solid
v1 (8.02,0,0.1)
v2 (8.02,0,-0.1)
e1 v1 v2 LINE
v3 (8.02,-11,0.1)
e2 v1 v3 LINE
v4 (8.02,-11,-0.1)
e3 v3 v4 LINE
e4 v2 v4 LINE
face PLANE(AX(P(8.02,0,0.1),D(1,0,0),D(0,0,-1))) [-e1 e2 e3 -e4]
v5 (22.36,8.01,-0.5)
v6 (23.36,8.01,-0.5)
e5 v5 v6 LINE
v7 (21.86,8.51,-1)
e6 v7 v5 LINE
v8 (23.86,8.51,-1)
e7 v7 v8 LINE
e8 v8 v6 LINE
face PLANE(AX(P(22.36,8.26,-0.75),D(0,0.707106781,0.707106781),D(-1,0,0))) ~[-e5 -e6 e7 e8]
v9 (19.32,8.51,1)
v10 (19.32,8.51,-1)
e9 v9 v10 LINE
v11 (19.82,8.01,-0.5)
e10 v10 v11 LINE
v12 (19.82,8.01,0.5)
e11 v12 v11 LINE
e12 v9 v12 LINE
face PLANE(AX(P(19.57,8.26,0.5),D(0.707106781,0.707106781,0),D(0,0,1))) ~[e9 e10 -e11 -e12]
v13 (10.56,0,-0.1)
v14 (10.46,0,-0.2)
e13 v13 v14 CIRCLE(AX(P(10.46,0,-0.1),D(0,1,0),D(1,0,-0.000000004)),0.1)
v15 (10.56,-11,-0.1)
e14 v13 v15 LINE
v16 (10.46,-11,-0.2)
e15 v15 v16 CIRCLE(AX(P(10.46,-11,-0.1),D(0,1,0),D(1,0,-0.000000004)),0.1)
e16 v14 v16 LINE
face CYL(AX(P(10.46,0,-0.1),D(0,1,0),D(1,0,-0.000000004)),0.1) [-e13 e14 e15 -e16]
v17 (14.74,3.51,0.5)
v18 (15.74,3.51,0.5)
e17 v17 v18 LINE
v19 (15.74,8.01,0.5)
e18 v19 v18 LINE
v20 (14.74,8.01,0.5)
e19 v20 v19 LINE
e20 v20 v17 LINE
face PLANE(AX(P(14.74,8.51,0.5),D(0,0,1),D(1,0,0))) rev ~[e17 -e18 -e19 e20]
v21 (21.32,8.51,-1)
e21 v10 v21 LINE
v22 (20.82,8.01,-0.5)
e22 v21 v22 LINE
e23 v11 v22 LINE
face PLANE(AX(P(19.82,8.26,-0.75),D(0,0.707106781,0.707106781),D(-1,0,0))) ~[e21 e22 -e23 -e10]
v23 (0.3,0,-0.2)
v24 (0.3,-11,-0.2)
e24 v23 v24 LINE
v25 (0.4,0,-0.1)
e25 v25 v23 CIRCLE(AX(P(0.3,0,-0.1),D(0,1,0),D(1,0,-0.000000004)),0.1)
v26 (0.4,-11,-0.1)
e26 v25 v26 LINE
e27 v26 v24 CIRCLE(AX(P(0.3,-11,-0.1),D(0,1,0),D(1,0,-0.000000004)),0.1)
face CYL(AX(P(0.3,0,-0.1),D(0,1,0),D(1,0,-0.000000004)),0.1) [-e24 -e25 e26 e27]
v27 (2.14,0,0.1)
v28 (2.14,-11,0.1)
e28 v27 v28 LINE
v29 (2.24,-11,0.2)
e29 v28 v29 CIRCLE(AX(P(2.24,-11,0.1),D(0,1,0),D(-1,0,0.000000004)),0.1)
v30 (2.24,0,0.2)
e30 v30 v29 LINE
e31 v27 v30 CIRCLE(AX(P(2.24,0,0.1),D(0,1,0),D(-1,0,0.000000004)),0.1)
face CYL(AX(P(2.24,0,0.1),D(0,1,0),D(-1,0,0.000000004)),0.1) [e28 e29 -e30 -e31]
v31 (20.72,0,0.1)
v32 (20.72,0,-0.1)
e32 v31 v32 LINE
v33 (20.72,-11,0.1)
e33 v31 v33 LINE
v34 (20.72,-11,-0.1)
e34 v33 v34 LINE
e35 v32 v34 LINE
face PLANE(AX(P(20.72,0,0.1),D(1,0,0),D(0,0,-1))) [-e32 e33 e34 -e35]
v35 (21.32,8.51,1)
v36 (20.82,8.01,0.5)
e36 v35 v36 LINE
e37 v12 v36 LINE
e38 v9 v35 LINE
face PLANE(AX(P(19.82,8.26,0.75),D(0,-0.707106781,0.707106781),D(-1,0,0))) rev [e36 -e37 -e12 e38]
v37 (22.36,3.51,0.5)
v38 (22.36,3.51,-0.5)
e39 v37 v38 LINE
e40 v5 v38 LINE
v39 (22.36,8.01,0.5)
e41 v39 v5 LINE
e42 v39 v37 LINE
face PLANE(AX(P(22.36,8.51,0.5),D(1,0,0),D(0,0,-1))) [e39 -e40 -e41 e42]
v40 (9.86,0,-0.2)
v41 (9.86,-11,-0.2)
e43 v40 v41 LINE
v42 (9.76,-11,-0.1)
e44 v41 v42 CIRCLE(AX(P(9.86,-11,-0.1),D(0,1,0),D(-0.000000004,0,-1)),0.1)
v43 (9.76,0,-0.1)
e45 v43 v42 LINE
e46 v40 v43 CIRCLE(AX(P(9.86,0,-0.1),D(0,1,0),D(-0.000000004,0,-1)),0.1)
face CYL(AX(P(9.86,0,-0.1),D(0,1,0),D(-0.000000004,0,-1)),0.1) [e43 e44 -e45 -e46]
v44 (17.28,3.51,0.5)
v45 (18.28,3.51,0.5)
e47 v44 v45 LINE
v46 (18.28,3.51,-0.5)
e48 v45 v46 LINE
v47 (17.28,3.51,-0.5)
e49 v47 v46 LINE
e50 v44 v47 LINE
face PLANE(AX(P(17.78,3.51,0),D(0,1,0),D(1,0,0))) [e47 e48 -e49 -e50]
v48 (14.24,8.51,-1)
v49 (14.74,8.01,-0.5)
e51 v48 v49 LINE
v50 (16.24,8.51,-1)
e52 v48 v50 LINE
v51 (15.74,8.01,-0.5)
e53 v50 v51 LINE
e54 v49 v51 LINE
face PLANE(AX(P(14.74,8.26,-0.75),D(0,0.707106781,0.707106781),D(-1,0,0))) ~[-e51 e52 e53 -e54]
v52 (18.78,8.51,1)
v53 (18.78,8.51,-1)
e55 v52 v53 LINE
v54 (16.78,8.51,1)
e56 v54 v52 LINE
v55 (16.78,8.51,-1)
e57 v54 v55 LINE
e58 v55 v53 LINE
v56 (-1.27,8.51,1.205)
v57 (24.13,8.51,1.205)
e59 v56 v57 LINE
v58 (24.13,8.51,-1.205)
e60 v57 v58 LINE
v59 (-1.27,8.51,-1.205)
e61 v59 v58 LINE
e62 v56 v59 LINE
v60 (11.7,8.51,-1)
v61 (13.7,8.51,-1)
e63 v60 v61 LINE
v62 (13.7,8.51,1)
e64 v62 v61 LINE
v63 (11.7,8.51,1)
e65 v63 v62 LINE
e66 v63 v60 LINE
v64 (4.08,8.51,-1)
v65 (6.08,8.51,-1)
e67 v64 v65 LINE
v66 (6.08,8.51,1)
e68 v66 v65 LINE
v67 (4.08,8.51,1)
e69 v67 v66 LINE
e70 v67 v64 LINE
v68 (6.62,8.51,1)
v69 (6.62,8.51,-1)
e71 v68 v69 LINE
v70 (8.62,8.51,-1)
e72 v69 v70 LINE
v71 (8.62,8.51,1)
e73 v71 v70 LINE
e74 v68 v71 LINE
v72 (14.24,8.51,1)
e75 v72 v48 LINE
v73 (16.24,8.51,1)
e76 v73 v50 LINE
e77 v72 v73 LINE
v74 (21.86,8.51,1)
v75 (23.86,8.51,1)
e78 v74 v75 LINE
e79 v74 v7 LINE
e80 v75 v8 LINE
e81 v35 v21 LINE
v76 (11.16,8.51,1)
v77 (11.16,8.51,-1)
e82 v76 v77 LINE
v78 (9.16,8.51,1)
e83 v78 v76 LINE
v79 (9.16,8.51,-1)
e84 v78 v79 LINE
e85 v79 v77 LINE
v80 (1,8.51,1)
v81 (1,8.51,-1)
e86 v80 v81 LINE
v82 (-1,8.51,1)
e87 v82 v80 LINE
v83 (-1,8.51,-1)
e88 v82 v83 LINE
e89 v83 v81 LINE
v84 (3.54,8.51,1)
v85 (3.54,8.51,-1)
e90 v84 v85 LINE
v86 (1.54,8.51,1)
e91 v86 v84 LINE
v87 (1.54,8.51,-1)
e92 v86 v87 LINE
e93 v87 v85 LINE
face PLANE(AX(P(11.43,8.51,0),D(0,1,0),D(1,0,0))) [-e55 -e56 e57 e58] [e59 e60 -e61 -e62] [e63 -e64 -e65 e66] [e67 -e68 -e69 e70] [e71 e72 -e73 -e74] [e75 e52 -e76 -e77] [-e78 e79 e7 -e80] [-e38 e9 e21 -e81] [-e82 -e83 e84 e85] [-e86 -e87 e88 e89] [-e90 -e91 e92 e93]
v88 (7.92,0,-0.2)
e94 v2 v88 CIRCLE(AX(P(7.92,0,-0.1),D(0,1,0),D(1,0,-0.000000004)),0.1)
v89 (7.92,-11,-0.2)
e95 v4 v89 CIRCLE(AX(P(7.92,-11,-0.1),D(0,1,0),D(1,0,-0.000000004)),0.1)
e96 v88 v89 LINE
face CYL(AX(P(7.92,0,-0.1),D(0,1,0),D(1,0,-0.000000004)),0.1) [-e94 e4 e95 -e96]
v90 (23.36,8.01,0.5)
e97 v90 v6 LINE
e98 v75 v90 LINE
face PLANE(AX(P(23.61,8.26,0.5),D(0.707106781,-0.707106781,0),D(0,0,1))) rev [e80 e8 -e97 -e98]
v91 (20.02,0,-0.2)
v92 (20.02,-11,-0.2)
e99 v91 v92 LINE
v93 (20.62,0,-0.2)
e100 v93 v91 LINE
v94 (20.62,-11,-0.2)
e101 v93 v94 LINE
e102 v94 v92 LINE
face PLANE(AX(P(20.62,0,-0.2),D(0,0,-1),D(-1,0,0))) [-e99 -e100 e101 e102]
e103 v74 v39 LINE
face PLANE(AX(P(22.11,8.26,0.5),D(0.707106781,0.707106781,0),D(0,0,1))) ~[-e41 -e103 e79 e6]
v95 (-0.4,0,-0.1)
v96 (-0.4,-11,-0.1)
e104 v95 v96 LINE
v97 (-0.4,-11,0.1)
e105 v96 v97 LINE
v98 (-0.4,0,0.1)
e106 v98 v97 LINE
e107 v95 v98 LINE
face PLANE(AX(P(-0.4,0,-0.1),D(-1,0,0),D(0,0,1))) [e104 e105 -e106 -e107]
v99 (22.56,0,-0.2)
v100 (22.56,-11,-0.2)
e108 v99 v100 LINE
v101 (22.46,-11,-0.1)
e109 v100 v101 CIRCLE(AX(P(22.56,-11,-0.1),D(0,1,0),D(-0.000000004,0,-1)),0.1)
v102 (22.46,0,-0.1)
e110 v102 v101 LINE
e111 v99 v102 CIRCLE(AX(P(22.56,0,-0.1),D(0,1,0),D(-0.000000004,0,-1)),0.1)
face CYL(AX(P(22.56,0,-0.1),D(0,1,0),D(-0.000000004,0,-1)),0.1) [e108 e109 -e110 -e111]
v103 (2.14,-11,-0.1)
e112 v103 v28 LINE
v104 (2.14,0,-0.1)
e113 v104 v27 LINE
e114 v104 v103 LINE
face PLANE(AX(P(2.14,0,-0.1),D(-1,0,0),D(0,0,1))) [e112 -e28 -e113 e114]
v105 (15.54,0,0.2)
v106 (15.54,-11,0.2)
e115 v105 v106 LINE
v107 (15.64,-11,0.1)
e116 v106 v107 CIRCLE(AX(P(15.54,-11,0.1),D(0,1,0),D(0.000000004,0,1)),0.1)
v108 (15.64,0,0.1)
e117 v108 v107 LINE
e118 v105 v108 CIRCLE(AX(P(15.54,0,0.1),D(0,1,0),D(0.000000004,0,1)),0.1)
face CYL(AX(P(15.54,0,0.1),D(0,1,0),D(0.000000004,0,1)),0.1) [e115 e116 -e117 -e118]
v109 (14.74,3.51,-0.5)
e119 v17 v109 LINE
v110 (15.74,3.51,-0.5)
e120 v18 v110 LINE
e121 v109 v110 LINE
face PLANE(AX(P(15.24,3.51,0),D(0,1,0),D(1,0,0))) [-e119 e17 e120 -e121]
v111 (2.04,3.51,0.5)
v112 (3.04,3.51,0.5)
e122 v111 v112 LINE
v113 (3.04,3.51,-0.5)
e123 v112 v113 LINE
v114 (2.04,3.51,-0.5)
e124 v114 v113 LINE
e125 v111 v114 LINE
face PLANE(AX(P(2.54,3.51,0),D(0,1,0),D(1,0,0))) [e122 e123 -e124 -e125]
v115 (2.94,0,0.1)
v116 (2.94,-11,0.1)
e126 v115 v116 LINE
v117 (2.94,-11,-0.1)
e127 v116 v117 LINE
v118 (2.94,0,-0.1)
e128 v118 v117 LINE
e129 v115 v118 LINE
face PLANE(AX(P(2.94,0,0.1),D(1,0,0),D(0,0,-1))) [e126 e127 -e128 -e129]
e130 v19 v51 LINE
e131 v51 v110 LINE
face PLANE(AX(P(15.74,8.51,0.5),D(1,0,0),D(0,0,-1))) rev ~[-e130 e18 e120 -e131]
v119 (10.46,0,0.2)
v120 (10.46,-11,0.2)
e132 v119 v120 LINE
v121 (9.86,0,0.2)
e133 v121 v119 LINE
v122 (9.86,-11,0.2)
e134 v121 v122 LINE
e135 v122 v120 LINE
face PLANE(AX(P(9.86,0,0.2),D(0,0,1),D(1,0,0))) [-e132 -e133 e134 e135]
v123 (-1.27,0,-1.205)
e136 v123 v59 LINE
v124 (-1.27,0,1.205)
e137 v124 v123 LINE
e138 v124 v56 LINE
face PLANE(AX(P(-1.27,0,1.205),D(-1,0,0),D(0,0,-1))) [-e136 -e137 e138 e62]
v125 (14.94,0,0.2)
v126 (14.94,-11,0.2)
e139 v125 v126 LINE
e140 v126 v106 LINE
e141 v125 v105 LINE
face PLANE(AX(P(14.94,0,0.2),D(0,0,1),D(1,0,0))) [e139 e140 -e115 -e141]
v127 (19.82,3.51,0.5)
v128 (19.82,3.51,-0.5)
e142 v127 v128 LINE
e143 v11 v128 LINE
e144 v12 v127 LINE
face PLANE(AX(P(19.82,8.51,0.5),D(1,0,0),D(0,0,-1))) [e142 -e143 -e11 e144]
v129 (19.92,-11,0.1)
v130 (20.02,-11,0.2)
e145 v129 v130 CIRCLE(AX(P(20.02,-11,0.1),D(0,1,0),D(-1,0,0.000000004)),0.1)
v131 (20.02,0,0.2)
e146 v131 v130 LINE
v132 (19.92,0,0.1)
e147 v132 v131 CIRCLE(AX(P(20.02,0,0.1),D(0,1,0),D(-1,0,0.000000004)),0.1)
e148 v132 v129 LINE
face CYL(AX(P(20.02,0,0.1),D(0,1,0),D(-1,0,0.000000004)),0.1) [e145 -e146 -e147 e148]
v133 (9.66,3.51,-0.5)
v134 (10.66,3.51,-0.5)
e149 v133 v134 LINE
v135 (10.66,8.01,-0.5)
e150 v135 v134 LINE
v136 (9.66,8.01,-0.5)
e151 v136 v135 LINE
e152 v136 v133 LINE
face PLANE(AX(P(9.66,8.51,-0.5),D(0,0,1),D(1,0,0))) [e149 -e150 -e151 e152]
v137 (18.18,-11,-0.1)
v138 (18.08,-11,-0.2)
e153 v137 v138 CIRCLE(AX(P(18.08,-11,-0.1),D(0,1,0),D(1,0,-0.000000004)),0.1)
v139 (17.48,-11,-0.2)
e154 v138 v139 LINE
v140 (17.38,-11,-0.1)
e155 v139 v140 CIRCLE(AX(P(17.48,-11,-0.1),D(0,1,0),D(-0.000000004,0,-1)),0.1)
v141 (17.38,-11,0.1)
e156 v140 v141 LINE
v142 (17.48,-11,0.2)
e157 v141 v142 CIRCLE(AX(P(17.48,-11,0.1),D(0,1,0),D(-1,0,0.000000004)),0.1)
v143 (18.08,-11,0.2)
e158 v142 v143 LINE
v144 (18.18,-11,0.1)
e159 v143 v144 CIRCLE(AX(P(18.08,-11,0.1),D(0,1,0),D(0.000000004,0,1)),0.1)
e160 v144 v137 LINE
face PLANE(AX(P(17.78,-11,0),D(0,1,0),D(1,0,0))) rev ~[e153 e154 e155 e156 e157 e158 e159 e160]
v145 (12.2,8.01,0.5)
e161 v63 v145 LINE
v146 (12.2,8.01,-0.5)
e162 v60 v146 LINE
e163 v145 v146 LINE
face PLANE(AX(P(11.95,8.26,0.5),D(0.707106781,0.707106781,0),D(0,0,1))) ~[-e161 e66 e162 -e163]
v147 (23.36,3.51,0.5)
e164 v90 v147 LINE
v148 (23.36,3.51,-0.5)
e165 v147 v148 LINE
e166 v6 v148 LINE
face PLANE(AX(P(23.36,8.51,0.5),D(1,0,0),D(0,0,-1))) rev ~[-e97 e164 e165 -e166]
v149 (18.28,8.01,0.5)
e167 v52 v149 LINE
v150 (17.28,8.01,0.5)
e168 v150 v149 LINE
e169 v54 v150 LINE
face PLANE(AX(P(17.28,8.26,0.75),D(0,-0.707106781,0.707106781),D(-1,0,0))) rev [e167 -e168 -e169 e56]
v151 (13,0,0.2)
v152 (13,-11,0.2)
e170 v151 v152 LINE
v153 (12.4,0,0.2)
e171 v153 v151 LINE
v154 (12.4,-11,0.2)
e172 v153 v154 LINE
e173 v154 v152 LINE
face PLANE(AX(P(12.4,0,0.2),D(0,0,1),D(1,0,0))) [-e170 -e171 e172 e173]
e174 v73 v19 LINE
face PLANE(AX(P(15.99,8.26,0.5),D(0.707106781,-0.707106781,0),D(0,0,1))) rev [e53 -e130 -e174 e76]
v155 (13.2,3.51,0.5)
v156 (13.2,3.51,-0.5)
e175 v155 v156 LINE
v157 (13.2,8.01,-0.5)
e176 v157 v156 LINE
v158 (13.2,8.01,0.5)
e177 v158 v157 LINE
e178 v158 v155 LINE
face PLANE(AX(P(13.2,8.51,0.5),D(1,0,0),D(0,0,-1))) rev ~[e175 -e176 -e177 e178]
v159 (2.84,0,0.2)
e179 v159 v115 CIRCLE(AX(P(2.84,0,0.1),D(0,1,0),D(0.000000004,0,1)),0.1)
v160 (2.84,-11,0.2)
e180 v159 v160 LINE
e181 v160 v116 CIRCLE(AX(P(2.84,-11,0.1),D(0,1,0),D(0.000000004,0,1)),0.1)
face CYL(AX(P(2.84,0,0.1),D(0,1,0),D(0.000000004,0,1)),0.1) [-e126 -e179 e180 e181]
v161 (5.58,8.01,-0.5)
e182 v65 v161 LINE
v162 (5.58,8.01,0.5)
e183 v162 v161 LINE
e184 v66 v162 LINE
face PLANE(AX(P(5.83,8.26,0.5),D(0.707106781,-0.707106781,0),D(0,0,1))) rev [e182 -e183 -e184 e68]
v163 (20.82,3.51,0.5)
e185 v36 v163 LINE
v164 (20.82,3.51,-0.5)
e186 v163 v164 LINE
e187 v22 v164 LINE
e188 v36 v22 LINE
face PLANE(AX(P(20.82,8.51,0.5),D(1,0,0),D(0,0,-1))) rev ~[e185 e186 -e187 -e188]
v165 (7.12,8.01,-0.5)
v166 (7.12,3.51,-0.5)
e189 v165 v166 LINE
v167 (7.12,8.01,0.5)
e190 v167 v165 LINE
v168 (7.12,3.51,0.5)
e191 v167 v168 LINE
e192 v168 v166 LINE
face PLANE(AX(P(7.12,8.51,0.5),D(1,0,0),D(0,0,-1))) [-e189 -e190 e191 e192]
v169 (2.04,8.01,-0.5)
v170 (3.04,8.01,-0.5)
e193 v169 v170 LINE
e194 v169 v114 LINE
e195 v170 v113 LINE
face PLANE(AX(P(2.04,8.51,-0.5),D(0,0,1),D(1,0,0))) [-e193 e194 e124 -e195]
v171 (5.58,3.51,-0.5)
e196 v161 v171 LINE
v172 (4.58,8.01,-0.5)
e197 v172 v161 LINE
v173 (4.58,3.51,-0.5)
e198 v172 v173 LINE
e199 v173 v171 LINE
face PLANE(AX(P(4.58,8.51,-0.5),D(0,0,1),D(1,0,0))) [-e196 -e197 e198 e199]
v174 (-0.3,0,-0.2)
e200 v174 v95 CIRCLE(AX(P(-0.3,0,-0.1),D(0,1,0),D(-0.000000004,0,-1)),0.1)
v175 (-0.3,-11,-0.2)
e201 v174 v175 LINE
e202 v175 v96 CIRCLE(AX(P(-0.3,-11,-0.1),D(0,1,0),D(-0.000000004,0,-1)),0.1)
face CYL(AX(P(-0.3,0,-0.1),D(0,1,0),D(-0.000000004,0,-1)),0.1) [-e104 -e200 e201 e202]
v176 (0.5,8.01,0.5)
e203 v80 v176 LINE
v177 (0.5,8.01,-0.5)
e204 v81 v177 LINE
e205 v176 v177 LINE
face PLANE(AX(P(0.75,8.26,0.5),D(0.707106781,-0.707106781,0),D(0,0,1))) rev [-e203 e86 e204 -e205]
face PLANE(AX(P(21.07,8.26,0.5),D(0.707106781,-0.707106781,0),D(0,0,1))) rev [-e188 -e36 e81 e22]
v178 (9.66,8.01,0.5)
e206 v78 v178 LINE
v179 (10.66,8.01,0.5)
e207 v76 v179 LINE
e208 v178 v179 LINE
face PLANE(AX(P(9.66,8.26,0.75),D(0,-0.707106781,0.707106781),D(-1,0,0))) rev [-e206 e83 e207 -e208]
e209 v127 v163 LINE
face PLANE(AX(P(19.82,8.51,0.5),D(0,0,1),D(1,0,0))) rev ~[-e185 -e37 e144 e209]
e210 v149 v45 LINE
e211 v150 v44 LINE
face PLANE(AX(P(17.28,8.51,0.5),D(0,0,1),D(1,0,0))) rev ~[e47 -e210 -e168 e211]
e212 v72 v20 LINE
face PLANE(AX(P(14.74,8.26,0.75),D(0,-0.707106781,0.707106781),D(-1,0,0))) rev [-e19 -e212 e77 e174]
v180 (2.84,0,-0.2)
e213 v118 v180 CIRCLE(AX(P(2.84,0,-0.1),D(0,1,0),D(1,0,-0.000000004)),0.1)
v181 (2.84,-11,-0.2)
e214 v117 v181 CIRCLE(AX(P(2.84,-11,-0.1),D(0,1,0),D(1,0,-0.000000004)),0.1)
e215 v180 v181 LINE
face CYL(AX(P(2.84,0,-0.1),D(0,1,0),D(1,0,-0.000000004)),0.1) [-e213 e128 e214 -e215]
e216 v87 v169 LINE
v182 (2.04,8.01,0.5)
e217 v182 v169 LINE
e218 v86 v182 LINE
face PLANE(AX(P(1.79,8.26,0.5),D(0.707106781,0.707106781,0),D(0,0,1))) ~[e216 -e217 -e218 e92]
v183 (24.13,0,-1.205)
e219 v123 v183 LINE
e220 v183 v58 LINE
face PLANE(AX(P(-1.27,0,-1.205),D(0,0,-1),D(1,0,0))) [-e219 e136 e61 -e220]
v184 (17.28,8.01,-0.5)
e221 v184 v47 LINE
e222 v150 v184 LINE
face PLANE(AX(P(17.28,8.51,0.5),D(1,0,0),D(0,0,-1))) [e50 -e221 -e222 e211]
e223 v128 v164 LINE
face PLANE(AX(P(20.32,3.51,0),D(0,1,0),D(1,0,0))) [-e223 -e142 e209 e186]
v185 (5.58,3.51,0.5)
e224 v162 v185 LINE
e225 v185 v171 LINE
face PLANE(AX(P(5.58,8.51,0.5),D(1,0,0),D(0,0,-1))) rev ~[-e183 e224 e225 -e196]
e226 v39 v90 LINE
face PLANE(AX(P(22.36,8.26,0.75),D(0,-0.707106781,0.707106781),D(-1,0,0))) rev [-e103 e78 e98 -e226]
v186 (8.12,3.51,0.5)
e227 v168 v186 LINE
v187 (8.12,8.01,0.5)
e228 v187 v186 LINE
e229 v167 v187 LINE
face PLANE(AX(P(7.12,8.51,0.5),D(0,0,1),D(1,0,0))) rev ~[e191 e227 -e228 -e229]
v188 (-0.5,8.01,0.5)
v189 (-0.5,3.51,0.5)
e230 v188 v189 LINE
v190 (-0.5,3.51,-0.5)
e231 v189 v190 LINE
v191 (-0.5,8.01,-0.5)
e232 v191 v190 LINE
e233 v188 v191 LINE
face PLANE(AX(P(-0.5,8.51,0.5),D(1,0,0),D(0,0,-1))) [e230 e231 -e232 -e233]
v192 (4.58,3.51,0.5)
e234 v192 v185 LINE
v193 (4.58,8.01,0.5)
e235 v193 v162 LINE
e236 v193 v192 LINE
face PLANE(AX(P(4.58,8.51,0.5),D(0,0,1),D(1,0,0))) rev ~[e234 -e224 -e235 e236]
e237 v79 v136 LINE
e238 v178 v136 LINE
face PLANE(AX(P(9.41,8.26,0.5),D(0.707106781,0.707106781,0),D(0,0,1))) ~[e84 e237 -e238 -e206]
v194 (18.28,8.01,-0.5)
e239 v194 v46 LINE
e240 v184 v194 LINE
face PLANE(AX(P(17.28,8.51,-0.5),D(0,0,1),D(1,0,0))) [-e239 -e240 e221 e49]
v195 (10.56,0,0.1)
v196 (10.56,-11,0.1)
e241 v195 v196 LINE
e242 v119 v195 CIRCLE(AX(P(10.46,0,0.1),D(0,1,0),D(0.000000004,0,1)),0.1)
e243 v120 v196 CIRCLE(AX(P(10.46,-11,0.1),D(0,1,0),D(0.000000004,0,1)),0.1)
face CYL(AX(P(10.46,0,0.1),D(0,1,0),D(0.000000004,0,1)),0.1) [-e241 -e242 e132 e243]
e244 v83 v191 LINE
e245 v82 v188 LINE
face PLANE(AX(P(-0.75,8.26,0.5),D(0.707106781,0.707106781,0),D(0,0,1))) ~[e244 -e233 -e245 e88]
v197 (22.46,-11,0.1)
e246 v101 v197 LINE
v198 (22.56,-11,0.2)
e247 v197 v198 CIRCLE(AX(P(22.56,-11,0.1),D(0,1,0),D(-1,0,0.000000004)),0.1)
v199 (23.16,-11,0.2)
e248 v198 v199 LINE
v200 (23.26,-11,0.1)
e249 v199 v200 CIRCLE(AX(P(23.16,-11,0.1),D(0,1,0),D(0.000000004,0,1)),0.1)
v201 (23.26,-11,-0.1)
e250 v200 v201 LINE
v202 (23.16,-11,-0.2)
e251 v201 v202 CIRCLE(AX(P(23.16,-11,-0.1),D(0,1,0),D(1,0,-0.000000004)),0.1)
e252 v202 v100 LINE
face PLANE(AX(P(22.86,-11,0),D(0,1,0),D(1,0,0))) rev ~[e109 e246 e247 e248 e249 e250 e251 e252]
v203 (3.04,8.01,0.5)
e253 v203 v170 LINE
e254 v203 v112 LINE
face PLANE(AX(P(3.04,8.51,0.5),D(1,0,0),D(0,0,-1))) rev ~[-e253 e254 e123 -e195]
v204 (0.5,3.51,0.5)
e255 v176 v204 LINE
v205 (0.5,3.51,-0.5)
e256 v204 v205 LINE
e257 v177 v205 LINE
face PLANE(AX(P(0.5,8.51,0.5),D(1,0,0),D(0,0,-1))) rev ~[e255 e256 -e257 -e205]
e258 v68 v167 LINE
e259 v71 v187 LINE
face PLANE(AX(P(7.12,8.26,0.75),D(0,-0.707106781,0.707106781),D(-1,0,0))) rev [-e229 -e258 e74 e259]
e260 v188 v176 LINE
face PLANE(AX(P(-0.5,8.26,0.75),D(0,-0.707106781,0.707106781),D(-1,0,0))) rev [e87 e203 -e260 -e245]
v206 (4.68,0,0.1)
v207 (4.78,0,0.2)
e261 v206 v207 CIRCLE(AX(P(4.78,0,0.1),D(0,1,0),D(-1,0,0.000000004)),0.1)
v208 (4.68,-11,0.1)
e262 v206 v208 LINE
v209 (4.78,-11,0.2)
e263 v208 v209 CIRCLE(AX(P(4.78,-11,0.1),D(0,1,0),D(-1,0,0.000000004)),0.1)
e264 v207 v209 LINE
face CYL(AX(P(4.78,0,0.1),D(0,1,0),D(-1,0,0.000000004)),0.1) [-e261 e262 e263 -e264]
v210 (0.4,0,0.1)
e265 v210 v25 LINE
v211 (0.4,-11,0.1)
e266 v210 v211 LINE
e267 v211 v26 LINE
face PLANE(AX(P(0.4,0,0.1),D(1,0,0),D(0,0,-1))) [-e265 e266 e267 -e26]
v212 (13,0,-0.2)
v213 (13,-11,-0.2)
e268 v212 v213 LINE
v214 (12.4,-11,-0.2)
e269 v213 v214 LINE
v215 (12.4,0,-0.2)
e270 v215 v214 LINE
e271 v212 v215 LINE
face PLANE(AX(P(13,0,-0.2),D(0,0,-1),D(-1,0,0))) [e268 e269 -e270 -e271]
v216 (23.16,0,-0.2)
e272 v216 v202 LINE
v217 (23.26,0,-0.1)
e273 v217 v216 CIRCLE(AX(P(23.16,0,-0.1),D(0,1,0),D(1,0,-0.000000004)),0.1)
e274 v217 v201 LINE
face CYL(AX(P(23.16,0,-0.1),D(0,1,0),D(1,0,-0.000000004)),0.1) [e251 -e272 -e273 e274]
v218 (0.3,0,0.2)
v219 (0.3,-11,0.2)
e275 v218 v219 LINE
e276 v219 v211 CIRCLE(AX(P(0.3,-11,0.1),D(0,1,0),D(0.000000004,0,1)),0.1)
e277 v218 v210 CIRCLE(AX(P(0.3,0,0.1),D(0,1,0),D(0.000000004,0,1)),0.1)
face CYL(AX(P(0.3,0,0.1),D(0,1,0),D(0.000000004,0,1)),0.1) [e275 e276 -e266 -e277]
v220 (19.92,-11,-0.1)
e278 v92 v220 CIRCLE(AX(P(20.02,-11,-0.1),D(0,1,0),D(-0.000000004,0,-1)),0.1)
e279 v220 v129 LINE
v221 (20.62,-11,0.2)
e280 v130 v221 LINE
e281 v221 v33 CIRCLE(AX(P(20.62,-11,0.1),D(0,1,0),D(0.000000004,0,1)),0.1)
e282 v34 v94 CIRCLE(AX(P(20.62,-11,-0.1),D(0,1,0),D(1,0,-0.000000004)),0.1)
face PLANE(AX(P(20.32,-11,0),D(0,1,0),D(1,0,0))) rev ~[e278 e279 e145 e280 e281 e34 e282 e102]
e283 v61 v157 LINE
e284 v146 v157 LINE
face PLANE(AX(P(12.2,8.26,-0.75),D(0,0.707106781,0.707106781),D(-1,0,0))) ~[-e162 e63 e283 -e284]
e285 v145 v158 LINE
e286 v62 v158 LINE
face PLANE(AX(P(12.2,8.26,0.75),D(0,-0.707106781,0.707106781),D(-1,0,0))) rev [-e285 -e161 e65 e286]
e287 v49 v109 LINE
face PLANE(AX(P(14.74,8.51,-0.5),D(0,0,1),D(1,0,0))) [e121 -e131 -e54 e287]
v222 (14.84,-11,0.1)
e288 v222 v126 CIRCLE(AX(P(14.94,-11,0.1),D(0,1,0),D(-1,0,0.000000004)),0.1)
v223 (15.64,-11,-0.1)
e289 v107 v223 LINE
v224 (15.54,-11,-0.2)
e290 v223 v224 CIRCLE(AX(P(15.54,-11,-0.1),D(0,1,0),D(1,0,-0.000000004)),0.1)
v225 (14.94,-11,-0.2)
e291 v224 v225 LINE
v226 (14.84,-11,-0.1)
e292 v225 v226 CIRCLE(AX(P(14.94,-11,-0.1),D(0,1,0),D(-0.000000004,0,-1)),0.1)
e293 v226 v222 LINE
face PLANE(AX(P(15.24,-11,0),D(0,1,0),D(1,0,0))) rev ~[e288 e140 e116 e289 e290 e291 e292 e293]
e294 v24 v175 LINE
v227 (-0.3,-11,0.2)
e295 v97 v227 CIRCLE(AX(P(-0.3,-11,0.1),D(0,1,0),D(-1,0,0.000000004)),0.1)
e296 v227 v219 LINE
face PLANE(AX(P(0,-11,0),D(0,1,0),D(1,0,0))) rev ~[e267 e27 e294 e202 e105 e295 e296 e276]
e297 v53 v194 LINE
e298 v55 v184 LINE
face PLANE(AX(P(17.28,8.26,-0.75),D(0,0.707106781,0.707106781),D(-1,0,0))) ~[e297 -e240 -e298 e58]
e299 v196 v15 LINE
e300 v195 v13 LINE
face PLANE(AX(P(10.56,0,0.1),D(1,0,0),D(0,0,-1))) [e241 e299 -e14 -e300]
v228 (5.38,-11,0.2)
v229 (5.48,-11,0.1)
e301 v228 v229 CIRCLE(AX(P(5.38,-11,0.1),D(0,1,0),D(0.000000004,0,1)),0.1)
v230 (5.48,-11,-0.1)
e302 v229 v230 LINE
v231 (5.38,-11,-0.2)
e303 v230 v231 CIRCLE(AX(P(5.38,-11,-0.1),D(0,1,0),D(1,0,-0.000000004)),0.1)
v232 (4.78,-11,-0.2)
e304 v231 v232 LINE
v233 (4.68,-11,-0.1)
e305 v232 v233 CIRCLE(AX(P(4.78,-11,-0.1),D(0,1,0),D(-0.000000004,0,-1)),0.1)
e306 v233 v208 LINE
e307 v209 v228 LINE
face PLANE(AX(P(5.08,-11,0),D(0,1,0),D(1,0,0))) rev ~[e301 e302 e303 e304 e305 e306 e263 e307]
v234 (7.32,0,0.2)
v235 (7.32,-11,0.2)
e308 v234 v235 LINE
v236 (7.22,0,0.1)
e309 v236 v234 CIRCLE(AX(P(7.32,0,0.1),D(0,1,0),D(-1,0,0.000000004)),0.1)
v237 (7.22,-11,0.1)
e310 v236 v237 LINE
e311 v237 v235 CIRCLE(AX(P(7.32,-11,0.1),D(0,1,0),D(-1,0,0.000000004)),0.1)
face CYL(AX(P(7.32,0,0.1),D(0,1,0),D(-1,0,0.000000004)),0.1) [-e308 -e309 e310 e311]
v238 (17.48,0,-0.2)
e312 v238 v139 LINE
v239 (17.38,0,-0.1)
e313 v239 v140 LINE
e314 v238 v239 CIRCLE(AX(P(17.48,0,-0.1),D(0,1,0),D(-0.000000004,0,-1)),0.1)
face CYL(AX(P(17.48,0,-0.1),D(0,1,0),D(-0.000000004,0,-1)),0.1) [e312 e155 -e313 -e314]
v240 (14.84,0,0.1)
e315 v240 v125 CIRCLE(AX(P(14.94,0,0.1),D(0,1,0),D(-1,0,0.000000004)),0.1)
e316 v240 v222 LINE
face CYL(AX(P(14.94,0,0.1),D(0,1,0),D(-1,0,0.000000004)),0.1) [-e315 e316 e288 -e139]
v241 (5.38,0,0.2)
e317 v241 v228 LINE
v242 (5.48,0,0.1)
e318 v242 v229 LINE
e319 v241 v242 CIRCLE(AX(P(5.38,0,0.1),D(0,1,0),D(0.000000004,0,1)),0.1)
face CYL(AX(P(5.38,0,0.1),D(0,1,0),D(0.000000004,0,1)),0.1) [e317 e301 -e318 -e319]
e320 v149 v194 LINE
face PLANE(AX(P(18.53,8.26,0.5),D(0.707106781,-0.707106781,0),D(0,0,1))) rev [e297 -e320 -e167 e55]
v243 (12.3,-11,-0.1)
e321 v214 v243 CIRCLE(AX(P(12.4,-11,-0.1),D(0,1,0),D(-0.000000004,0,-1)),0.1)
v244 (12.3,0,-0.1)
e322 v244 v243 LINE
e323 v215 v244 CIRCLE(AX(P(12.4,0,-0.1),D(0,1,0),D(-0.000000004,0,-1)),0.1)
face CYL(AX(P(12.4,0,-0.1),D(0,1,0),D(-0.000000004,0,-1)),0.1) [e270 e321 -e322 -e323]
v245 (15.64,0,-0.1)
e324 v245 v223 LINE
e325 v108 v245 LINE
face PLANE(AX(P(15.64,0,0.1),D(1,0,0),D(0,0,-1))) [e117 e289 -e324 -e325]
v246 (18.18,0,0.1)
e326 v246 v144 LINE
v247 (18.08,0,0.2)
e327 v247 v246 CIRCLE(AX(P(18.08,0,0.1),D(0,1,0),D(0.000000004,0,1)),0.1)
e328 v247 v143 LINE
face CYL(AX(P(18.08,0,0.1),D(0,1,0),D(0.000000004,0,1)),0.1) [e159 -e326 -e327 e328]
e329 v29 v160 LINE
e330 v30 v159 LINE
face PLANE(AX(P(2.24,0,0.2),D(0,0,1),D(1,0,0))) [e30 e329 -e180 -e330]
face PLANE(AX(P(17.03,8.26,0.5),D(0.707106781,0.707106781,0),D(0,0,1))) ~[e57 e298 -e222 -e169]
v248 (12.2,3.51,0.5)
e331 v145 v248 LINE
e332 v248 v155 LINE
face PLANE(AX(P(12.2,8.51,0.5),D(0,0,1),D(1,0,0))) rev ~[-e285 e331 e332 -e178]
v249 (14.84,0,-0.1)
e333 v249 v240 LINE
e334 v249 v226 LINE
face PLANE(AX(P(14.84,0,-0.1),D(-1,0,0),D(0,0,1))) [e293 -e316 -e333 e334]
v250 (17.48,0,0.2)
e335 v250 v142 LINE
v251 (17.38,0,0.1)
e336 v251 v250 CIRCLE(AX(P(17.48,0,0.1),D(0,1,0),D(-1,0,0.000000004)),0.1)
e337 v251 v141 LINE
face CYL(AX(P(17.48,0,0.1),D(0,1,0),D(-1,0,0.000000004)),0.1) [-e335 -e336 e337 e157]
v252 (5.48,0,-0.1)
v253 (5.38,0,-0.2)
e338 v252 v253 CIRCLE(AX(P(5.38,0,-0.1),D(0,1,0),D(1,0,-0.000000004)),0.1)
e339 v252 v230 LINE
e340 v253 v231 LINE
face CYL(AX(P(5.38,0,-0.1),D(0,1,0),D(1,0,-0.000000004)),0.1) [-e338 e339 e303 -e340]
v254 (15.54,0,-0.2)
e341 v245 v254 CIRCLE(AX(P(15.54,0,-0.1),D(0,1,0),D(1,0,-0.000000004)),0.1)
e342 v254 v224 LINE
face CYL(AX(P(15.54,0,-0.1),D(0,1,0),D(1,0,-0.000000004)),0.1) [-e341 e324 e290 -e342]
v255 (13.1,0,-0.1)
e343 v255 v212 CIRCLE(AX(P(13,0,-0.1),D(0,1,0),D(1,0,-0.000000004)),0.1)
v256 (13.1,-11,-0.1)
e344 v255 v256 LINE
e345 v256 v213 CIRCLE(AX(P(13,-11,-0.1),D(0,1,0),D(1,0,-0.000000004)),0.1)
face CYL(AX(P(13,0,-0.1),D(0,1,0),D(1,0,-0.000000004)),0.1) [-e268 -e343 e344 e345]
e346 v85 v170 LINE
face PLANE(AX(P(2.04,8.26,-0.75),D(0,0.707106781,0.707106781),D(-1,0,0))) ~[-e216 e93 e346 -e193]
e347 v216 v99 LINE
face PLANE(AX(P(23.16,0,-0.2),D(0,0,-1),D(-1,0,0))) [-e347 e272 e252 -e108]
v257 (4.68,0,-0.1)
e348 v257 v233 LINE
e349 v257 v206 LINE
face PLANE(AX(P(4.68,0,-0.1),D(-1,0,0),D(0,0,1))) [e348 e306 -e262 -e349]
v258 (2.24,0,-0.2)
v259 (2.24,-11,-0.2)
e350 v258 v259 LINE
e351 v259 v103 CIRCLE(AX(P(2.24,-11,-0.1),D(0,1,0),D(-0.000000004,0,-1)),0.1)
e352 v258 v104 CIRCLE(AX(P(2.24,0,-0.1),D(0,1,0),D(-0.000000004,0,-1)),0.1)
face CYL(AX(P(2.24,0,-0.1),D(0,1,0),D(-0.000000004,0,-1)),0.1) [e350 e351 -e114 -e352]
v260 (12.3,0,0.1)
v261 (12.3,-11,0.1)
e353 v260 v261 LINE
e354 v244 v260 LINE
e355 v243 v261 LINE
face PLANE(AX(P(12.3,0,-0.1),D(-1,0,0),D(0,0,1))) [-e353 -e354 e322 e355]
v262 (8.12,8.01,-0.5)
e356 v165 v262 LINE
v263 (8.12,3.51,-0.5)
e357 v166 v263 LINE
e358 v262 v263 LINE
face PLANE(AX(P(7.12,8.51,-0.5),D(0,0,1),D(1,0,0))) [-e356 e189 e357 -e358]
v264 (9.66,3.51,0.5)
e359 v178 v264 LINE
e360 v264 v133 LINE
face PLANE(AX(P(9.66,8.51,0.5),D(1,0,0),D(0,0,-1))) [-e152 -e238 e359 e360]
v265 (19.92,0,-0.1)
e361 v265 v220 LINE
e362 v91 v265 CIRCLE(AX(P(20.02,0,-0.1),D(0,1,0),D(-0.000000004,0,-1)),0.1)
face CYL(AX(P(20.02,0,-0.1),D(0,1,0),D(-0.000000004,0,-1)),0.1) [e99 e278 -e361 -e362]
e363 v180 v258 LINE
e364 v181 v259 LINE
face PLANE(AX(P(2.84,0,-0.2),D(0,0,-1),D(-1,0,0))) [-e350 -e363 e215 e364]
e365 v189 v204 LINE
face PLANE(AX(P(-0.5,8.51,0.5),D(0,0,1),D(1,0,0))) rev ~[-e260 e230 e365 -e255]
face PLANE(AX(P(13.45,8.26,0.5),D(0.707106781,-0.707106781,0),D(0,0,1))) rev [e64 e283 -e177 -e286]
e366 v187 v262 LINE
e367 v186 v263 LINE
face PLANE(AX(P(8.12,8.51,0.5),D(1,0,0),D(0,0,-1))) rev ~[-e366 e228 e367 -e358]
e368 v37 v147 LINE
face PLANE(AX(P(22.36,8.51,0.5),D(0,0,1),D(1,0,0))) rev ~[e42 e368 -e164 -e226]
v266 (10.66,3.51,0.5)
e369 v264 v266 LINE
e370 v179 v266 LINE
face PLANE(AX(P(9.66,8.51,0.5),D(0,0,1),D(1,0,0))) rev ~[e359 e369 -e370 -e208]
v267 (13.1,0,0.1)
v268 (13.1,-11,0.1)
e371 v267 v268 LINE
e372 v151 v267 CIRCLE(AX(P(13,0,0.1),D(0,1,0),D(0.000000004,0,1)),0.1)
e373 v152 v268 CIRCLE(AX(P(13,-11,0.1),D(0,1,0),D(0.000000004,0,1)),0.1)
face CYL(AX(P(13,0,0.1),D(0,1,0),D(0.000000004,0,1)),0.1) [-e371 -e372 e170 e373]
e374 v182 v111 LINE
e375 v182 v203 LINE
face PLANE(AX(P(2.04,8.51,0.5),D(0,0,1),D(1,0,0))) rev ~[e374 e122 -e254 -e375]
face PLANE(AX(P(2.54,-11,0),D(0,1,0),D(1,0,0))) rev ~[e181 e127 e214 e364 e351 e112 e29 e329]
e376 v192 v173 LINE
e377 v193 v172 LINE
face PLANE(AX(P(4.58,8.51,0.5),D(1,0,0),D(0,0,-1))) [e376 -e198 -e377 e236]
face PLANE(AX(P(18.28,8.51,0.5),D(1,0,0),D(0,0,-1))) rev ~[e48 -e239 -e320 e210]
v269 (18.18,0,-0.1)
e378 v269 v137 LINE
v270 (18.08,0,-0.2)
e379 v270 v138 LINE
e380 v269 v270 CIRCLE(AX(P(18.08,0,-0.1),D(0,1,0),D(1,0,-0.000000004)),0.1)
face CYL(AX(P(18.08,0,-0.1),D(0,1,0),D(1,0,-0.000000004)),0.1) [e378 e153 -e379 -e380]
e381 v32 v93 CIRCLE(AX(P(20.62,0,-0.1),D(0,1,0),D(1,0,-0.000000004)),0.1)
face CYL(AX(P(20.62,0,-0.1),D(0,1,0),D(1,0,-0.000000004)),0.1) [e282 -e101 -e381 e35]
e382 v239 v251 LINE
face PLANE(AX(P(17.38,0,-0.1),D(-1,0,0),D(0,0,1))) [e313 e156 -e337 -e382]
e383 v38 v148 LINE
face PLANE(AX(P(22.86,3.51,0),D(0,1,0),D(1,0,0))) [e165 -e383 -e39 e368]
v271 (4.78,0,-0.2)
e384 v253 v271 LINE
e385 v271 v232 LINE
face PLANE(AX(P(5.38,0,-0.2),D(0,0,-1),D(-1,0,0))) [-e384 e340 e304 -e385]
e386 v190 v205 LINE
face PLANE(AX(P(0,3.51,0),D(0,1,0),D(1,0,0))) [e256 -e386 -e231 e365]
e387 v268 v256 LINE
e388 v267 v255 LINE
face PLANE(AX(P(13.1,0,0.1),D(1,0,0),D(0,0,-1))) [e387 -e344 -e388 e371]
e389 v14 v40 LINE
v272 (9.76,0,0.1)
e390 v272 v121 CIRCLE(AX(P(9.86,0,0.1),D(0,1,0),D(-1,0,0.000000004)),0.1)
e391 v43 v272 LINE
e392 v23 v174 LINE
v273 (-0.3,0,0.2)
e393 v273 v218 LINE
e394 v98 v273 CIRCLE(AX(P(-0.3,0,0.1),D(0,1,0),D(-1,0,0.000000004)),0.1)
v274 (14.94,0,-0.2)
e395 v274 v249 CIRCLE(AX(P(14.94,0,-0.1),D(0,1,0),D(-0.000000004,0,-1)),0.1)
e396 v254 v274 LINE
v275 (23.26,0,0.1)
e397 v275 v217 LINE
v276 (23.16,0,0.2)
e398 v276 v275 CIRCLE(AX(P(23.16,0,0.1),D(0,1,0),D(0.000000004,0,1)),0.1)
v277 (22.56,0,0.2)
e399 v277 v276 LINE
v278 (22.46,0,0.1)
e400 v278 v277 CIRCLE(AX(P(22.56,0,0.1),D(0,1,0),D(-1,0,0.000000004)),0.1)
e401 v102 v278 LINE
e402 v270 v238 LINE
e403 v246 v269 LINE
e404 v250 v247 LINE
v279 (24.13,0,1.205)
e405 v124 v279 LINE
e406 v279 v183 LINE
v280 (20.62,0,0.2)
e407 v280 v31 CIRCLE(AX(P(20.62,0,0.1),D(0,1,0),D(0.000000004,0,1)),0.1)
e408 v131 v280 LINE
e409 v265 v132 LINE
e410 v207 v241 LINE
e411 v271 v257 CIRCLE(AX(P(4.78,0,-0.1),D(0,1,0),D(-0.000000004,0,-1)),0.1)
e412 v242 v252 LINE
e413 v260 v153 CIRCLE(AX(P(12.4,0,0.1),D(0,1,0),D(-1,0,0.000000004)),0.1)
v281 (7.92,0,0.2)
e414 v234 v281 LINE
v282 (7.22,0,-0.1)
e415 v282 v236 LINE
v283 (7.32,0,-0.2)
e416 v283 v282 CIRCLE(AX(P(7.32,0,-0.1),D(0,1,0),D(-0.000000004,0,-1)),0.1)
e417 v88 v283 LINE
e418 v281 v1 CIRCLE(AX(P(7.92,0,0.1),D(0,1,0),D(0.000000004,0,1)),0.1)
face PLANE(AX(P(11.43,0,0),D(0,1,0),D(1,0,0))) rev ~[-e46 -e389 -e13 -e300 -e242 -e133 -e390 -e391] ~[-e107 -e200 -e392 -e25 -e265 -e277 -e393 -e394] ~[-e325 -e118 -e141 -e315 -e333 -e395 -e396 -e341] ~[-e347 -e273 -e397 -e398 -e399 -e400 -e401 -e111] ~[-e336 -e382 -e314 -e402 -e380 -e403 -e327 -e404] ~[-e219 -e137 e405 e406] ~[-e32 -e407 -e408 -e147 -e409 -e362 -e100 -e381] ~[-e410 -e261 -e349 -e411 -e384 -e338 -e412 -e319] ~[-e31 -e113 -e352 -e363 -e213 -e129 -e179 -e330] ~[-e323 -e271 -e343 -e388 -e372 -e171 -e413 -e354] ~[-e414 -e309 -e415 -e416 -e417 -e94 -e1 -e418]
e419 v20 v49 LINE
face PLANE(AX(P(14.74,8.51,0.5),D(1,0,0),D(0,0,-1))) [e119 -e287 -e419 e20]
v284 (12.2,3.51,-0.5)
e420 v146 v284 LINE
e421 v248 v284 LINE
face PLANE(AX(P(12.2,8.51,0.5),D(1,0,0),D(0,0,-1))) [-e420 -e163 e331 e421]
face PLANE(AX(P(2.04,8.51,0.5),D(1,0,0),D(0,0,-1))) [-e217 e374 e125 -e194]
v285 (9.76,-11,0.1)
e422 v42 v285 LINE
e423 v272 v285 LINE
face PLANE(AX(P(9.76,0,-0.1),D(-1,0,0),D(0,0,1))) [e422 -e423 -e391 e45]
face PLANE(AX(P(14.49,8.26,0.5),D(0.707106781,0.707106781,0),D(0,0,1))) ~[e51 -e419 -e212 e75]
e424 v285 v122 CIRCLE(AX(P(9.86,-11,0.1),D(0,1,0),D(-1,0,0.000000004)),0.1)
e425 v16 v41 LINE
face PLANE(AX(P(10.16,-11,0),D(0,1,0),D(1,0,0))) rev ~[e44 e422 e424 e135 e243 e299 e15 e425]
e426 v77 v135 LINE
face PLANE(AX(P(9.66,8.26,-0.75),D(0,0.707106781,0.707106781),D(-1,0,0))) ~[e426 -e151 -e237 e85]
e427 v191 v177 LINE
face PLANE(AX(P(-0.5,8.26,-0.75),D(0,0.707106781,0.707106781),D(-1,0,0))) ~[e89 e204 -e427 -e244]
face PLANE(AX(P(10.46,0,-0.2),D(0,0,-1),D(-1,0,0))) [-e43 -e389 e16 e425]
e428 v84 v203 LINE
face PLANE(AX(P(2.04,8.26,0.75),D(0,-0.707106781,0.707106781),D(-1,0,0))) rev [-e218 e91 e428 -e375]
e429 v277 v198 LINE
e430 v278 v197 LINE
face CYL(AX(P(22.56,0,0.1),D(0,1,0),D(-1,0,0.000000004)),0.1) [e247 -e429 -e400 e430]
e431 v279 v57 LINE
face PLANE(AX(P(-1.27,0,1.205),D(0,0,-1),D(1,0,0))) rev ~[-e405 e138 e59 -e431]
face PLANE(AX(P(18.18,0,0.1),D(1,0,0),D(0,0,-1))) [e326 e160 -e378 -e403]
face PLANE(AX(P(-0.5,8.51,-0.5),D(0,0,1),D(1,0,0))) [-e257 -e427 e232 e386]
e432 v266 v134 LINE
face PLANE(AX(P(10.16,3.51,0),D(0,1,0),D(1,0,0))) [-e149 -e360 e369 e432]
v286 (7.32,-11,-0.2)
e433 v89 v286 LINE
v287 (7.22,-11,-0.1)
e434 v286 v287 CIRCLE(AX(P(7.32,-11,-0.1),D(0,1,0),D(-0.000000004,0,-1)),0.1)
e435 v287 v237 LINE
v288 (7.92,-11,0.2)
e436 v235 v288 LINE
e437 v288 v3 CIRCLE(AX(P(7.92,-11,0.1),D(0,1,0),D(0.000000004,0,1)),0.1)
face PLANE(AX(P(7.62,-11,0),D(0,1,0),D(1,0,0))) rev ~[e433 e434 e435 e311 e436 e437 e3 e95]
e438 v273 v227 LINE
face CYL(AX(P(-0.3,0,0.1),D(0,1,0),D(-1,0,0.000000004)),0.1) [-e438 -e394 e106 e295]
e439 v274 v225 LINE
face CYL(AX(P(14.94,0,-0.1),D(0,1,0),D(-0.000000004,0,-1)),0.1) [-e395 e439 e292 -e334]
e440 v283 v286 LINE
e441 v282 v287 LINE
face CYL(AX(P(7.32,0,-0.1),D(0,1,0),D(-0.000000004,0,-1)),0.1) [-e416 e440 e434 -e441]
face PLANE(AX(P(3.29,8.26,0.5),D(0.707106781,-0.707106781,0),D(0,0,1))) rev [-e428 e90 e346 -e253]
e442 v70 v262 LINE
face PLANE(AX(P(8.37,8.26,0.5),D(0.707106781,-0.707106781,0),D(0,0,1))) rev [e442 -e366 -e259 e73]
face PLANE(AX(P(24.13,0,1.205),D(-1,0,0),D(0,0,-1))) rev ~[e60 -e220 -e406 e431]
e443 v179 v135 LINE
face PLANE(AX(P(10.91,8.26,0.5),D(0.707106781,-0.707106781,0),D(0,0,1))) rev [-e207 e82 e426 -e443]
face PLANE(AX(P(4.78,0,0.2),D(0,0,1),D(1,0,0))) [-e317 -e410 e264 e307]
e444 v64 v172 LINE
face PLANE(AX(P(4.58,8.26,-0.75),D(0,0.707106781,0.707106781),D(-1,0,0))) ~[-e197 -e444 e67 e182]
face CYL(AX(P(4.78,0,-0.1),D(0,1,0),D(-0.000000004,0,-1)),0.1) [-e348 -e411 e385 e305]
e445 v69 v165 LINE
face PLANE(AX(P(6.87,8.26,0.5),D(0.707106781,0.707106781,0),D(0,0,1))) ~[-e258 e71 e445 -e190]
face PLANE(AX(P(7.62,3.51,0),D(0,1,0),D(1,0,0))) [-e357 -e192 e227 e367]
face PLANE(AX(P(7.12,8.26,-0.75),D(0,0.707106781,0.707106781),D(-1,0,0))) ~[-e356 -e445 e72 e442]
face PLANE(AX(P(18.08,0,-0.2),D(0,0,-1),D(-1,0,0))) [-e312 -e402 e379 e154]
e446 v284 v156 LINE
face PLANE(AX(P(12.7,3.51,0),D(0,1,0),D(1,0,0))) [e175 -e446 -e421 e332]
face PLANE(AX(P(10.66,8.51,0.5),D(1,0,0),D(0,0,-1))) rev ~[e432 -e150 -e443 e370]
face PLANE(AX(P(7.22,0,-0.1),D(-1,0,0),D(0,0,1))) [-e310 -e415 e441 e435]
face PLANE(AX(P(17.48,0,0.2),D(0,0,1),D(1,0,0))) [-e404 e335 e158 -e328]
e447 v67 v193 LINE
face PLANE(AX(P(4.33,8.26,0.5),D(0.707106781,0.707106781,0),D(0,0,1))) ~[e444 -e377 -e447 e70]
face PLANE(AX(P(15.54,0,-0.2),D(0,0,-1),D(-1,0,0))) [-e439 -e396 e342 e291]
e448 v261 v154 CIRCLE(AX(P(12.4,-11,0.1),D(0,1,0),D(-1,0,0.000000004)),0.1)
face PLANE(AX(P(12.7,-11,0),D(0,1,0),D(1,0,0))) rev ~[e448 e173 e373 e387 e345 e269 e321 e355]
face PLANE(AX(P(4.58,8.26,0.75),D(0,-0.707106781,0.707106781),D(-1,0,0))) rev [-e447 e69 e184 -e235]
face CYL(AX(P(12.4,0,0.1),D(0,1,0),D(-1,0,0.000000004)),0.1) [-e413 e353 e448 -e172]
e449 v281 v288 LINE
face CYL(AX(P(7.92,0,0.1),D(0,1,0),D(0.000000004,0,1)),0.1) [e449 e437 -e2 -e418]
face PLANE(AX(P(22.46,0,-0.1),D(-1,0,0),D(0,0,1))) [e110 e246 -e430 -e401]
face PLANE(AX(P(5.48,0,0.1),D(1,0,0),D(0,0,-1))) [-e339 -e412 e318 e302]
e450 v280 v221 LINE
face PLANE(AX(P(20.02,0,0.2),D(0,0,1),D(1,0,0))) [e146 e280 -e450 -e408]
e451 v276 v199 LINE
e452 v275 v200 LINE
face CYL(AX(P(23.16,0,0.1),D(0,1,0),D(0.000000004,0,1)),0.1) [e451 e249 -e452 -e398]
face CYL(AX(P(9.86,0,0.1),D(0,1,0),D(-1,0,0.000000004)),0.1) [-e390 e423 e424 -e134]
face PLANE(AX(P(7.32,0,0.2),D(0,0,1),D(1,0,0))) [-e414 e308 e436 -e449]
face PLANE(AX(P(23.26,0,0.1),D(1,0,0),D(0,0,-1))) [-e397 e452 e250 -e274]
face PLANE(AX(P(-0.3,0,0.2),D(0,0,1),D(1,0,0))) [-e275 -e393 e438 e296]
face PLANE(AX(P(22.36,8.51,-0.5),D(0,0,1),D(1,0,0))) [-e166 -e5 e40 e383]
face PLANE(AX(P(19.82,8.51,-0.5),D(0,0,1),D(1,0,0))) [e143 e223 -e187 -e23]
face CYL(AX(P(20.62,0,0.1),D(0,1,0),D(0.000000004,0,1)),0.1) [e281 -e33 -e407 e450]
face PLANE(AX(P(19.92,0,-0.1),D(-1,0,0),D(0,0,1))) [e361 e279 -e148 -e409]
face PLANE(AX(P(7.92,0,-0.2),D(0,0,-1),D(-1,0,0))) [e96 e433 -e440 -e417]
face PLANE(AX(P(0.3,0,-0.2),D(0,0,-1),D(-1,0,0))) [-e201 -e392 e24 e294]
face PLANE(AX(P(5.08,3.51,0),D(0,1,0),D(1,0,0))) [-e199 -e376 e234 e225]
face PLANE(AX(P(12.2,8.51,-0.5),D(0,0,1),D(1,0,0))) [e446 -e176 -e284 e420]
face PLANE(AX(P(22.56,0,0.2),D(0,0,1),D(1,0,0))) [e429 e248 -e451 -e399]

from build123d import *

# Parameters (mm, degrees)
SKETCH2_W                  = 25.4
SKETCH2_H                  = 2.41
BOSS_EXTRUDE1_DEPTH        = 8.51
SKETCH5_W                  = 1
SKETCH5_H                  = 1
CUT_EXTRUDE1_DEPTH         = 5
CHAMFER1_SIZE              = 0.5
LPATTERN3_COUNT            = 10
LPATTERN3_PITCH            = 2.54
CHAMFER1_OF_LPATTERN3_SIZE = 0.5
BOSS_EXTRUDE2_DEPTH        = 11
LPATTERN1_COUNT            = 10
LPATTERN1_PITCH            = 2.54


with BuildPart() as part:
    # Sketch2 → Boss-Extrude1 (new body)
    with BuildSketch(Plane(origin=(0, 0, 0), x_dir=(1, 0, 0), z_dir=(0, 1, 0))):
        with Locations((11.43, 0)):
            Rectangle(SKETCH2_W, SKETCH2_H)
    extrude(amount=BOSS_EXTRUDE1_DEPTH)

    # Sketch5 → Cut-Extrude1 (cut)
    with BuildSketch(Plane(origin=(0, 8.51, 0), x_dir=(1, 0, 0), z_dir=(0, 1, 0))):
        Rectangle(SKETCH5_W, SKETCH5_H)
    cut_extrude1 = extrude(amount=-CUT_EXTRUDE1_DEPTH, mode=Mode.SUBTRACT)

    # Chamfer1
    chamfer1_edges = [part.edges().sort_by_distance(p)[0] for p in [
        (0.5, 8.51, 0),
        (0, 8.51, -0.5),
        (-0.5, 8.51, 0),
        (0, 8.51, 0.5),
    ]]
    chamfer(chamfer1_edges, length=CHAMFER1_SIZE)

    # LPattern3: Cut-Extrude1 ×10
    with Locations(*[(i * LPATTERN3_PITCH, 0, 0) for i in range(1, LPATTERN3_COUNT)]):
        add(cut_extrude1, mode=Mode.SUBTRACT)

    # Chamfer1 of LPattern3
    chamfer1_of_lpattern3_edges = [part.edges().sort_by_distance(p)[0] for p in [
        (3.04, 8.51, 0),
        (2.54, 8.51, -0.5),
        (2.04, 8.51, 0),
        (2.54, 8.51, 0.5),
        (5.58, 8.51, 0),
        (5.08, 8.51, -0.5),
        (4.58, 8.51, 0),
        (5.08, 8.51, 0.5),
        (8.12, 8.51, 0),
        (7.62, 8.51, -0.5),
        (7.12, 8.51, 0),
        (7.62, 8.51, 0.5),
        (10.66, 8.51, 0),
        (10.16, 8.51, -0.5),
        (9.66, 8.51, 0),
        (10.16, 8.51, 0.5),
        (13.2, 8.51, 0),
        (12.7, 8.51, -0.5),
        (12.2, 8.51, 0),
        (12.7, 8.51, 0.5),
        (15.74, 8.51, 0),
        (15.24, 8.51, -0.5),
        (14.74, 8.51, 0),
        (15.24, 8.51, 0.5),
        (18.28, 8.51, 0),
        (17.78, 8.51, -0.5),
        (17.28, 8.51, 0),
        (17.78, 8.51, 0.5),
        (20.82, 8.51, 0),
        (20.32, 8.51, -0.5),
        (19.82, 8.51, 0),
        (20.32, 8.51, 0.5),
        (23.36, 8.51, 0),
        (22.86, 8.51, -0.5),
        (22.36, 8.51, 0),
        (22.86, 8.51, 0.5),
    ]]
    chamfer(chamfer1_of_lpattern3_edges, length=CHAMFER1_OF_LPATTERN3_SIZE)

    # Sketch8 → Boss-Extrude2 (add)
    with BuildSketch(Plane(origin=(0, 0, 0), x_dir=(1, 0, 0), z_dir=(0, 1, 0))):
        with BuildLine():
            Line((-0.3, -0.2), (0.3, -0.2))
            ThreePointArc((0.3, -0.2), (0.370710678, -0.170710678), (0.4, -0.1))
            Line((0.4, -0.1), (0.4, 0.1))
            ThreePointArc((0.4, 0.1), (0.370710678, 0.170710678), (0.3, 0.2))
            Line((0.3, 0.2), (-0.3, 0.2))
            ThreePointArc((-0.3, 0.2), (-0.370710678, 0.170710678), (-0.4, 0.1))
            Line((-0.4, 0.1), (-0.4, -0.1))
            ThreePointArc((-0.4, -0.1), (-0.370710678, -0.170710678), (-0.3, -0.2))
        make_face()
    boss_extrude2 = extrude(amount=-BOSS_EXTRUDE2_DEPTH)

    # LPattern1: Boss-Extrude2 ×10
    with Locations(*[(i * LPATTERN1_PITCH, 0, 0) for i in range(1, LPATTERN1_COUNT)]):
        add(boss_extrude2)


solid = part.part
